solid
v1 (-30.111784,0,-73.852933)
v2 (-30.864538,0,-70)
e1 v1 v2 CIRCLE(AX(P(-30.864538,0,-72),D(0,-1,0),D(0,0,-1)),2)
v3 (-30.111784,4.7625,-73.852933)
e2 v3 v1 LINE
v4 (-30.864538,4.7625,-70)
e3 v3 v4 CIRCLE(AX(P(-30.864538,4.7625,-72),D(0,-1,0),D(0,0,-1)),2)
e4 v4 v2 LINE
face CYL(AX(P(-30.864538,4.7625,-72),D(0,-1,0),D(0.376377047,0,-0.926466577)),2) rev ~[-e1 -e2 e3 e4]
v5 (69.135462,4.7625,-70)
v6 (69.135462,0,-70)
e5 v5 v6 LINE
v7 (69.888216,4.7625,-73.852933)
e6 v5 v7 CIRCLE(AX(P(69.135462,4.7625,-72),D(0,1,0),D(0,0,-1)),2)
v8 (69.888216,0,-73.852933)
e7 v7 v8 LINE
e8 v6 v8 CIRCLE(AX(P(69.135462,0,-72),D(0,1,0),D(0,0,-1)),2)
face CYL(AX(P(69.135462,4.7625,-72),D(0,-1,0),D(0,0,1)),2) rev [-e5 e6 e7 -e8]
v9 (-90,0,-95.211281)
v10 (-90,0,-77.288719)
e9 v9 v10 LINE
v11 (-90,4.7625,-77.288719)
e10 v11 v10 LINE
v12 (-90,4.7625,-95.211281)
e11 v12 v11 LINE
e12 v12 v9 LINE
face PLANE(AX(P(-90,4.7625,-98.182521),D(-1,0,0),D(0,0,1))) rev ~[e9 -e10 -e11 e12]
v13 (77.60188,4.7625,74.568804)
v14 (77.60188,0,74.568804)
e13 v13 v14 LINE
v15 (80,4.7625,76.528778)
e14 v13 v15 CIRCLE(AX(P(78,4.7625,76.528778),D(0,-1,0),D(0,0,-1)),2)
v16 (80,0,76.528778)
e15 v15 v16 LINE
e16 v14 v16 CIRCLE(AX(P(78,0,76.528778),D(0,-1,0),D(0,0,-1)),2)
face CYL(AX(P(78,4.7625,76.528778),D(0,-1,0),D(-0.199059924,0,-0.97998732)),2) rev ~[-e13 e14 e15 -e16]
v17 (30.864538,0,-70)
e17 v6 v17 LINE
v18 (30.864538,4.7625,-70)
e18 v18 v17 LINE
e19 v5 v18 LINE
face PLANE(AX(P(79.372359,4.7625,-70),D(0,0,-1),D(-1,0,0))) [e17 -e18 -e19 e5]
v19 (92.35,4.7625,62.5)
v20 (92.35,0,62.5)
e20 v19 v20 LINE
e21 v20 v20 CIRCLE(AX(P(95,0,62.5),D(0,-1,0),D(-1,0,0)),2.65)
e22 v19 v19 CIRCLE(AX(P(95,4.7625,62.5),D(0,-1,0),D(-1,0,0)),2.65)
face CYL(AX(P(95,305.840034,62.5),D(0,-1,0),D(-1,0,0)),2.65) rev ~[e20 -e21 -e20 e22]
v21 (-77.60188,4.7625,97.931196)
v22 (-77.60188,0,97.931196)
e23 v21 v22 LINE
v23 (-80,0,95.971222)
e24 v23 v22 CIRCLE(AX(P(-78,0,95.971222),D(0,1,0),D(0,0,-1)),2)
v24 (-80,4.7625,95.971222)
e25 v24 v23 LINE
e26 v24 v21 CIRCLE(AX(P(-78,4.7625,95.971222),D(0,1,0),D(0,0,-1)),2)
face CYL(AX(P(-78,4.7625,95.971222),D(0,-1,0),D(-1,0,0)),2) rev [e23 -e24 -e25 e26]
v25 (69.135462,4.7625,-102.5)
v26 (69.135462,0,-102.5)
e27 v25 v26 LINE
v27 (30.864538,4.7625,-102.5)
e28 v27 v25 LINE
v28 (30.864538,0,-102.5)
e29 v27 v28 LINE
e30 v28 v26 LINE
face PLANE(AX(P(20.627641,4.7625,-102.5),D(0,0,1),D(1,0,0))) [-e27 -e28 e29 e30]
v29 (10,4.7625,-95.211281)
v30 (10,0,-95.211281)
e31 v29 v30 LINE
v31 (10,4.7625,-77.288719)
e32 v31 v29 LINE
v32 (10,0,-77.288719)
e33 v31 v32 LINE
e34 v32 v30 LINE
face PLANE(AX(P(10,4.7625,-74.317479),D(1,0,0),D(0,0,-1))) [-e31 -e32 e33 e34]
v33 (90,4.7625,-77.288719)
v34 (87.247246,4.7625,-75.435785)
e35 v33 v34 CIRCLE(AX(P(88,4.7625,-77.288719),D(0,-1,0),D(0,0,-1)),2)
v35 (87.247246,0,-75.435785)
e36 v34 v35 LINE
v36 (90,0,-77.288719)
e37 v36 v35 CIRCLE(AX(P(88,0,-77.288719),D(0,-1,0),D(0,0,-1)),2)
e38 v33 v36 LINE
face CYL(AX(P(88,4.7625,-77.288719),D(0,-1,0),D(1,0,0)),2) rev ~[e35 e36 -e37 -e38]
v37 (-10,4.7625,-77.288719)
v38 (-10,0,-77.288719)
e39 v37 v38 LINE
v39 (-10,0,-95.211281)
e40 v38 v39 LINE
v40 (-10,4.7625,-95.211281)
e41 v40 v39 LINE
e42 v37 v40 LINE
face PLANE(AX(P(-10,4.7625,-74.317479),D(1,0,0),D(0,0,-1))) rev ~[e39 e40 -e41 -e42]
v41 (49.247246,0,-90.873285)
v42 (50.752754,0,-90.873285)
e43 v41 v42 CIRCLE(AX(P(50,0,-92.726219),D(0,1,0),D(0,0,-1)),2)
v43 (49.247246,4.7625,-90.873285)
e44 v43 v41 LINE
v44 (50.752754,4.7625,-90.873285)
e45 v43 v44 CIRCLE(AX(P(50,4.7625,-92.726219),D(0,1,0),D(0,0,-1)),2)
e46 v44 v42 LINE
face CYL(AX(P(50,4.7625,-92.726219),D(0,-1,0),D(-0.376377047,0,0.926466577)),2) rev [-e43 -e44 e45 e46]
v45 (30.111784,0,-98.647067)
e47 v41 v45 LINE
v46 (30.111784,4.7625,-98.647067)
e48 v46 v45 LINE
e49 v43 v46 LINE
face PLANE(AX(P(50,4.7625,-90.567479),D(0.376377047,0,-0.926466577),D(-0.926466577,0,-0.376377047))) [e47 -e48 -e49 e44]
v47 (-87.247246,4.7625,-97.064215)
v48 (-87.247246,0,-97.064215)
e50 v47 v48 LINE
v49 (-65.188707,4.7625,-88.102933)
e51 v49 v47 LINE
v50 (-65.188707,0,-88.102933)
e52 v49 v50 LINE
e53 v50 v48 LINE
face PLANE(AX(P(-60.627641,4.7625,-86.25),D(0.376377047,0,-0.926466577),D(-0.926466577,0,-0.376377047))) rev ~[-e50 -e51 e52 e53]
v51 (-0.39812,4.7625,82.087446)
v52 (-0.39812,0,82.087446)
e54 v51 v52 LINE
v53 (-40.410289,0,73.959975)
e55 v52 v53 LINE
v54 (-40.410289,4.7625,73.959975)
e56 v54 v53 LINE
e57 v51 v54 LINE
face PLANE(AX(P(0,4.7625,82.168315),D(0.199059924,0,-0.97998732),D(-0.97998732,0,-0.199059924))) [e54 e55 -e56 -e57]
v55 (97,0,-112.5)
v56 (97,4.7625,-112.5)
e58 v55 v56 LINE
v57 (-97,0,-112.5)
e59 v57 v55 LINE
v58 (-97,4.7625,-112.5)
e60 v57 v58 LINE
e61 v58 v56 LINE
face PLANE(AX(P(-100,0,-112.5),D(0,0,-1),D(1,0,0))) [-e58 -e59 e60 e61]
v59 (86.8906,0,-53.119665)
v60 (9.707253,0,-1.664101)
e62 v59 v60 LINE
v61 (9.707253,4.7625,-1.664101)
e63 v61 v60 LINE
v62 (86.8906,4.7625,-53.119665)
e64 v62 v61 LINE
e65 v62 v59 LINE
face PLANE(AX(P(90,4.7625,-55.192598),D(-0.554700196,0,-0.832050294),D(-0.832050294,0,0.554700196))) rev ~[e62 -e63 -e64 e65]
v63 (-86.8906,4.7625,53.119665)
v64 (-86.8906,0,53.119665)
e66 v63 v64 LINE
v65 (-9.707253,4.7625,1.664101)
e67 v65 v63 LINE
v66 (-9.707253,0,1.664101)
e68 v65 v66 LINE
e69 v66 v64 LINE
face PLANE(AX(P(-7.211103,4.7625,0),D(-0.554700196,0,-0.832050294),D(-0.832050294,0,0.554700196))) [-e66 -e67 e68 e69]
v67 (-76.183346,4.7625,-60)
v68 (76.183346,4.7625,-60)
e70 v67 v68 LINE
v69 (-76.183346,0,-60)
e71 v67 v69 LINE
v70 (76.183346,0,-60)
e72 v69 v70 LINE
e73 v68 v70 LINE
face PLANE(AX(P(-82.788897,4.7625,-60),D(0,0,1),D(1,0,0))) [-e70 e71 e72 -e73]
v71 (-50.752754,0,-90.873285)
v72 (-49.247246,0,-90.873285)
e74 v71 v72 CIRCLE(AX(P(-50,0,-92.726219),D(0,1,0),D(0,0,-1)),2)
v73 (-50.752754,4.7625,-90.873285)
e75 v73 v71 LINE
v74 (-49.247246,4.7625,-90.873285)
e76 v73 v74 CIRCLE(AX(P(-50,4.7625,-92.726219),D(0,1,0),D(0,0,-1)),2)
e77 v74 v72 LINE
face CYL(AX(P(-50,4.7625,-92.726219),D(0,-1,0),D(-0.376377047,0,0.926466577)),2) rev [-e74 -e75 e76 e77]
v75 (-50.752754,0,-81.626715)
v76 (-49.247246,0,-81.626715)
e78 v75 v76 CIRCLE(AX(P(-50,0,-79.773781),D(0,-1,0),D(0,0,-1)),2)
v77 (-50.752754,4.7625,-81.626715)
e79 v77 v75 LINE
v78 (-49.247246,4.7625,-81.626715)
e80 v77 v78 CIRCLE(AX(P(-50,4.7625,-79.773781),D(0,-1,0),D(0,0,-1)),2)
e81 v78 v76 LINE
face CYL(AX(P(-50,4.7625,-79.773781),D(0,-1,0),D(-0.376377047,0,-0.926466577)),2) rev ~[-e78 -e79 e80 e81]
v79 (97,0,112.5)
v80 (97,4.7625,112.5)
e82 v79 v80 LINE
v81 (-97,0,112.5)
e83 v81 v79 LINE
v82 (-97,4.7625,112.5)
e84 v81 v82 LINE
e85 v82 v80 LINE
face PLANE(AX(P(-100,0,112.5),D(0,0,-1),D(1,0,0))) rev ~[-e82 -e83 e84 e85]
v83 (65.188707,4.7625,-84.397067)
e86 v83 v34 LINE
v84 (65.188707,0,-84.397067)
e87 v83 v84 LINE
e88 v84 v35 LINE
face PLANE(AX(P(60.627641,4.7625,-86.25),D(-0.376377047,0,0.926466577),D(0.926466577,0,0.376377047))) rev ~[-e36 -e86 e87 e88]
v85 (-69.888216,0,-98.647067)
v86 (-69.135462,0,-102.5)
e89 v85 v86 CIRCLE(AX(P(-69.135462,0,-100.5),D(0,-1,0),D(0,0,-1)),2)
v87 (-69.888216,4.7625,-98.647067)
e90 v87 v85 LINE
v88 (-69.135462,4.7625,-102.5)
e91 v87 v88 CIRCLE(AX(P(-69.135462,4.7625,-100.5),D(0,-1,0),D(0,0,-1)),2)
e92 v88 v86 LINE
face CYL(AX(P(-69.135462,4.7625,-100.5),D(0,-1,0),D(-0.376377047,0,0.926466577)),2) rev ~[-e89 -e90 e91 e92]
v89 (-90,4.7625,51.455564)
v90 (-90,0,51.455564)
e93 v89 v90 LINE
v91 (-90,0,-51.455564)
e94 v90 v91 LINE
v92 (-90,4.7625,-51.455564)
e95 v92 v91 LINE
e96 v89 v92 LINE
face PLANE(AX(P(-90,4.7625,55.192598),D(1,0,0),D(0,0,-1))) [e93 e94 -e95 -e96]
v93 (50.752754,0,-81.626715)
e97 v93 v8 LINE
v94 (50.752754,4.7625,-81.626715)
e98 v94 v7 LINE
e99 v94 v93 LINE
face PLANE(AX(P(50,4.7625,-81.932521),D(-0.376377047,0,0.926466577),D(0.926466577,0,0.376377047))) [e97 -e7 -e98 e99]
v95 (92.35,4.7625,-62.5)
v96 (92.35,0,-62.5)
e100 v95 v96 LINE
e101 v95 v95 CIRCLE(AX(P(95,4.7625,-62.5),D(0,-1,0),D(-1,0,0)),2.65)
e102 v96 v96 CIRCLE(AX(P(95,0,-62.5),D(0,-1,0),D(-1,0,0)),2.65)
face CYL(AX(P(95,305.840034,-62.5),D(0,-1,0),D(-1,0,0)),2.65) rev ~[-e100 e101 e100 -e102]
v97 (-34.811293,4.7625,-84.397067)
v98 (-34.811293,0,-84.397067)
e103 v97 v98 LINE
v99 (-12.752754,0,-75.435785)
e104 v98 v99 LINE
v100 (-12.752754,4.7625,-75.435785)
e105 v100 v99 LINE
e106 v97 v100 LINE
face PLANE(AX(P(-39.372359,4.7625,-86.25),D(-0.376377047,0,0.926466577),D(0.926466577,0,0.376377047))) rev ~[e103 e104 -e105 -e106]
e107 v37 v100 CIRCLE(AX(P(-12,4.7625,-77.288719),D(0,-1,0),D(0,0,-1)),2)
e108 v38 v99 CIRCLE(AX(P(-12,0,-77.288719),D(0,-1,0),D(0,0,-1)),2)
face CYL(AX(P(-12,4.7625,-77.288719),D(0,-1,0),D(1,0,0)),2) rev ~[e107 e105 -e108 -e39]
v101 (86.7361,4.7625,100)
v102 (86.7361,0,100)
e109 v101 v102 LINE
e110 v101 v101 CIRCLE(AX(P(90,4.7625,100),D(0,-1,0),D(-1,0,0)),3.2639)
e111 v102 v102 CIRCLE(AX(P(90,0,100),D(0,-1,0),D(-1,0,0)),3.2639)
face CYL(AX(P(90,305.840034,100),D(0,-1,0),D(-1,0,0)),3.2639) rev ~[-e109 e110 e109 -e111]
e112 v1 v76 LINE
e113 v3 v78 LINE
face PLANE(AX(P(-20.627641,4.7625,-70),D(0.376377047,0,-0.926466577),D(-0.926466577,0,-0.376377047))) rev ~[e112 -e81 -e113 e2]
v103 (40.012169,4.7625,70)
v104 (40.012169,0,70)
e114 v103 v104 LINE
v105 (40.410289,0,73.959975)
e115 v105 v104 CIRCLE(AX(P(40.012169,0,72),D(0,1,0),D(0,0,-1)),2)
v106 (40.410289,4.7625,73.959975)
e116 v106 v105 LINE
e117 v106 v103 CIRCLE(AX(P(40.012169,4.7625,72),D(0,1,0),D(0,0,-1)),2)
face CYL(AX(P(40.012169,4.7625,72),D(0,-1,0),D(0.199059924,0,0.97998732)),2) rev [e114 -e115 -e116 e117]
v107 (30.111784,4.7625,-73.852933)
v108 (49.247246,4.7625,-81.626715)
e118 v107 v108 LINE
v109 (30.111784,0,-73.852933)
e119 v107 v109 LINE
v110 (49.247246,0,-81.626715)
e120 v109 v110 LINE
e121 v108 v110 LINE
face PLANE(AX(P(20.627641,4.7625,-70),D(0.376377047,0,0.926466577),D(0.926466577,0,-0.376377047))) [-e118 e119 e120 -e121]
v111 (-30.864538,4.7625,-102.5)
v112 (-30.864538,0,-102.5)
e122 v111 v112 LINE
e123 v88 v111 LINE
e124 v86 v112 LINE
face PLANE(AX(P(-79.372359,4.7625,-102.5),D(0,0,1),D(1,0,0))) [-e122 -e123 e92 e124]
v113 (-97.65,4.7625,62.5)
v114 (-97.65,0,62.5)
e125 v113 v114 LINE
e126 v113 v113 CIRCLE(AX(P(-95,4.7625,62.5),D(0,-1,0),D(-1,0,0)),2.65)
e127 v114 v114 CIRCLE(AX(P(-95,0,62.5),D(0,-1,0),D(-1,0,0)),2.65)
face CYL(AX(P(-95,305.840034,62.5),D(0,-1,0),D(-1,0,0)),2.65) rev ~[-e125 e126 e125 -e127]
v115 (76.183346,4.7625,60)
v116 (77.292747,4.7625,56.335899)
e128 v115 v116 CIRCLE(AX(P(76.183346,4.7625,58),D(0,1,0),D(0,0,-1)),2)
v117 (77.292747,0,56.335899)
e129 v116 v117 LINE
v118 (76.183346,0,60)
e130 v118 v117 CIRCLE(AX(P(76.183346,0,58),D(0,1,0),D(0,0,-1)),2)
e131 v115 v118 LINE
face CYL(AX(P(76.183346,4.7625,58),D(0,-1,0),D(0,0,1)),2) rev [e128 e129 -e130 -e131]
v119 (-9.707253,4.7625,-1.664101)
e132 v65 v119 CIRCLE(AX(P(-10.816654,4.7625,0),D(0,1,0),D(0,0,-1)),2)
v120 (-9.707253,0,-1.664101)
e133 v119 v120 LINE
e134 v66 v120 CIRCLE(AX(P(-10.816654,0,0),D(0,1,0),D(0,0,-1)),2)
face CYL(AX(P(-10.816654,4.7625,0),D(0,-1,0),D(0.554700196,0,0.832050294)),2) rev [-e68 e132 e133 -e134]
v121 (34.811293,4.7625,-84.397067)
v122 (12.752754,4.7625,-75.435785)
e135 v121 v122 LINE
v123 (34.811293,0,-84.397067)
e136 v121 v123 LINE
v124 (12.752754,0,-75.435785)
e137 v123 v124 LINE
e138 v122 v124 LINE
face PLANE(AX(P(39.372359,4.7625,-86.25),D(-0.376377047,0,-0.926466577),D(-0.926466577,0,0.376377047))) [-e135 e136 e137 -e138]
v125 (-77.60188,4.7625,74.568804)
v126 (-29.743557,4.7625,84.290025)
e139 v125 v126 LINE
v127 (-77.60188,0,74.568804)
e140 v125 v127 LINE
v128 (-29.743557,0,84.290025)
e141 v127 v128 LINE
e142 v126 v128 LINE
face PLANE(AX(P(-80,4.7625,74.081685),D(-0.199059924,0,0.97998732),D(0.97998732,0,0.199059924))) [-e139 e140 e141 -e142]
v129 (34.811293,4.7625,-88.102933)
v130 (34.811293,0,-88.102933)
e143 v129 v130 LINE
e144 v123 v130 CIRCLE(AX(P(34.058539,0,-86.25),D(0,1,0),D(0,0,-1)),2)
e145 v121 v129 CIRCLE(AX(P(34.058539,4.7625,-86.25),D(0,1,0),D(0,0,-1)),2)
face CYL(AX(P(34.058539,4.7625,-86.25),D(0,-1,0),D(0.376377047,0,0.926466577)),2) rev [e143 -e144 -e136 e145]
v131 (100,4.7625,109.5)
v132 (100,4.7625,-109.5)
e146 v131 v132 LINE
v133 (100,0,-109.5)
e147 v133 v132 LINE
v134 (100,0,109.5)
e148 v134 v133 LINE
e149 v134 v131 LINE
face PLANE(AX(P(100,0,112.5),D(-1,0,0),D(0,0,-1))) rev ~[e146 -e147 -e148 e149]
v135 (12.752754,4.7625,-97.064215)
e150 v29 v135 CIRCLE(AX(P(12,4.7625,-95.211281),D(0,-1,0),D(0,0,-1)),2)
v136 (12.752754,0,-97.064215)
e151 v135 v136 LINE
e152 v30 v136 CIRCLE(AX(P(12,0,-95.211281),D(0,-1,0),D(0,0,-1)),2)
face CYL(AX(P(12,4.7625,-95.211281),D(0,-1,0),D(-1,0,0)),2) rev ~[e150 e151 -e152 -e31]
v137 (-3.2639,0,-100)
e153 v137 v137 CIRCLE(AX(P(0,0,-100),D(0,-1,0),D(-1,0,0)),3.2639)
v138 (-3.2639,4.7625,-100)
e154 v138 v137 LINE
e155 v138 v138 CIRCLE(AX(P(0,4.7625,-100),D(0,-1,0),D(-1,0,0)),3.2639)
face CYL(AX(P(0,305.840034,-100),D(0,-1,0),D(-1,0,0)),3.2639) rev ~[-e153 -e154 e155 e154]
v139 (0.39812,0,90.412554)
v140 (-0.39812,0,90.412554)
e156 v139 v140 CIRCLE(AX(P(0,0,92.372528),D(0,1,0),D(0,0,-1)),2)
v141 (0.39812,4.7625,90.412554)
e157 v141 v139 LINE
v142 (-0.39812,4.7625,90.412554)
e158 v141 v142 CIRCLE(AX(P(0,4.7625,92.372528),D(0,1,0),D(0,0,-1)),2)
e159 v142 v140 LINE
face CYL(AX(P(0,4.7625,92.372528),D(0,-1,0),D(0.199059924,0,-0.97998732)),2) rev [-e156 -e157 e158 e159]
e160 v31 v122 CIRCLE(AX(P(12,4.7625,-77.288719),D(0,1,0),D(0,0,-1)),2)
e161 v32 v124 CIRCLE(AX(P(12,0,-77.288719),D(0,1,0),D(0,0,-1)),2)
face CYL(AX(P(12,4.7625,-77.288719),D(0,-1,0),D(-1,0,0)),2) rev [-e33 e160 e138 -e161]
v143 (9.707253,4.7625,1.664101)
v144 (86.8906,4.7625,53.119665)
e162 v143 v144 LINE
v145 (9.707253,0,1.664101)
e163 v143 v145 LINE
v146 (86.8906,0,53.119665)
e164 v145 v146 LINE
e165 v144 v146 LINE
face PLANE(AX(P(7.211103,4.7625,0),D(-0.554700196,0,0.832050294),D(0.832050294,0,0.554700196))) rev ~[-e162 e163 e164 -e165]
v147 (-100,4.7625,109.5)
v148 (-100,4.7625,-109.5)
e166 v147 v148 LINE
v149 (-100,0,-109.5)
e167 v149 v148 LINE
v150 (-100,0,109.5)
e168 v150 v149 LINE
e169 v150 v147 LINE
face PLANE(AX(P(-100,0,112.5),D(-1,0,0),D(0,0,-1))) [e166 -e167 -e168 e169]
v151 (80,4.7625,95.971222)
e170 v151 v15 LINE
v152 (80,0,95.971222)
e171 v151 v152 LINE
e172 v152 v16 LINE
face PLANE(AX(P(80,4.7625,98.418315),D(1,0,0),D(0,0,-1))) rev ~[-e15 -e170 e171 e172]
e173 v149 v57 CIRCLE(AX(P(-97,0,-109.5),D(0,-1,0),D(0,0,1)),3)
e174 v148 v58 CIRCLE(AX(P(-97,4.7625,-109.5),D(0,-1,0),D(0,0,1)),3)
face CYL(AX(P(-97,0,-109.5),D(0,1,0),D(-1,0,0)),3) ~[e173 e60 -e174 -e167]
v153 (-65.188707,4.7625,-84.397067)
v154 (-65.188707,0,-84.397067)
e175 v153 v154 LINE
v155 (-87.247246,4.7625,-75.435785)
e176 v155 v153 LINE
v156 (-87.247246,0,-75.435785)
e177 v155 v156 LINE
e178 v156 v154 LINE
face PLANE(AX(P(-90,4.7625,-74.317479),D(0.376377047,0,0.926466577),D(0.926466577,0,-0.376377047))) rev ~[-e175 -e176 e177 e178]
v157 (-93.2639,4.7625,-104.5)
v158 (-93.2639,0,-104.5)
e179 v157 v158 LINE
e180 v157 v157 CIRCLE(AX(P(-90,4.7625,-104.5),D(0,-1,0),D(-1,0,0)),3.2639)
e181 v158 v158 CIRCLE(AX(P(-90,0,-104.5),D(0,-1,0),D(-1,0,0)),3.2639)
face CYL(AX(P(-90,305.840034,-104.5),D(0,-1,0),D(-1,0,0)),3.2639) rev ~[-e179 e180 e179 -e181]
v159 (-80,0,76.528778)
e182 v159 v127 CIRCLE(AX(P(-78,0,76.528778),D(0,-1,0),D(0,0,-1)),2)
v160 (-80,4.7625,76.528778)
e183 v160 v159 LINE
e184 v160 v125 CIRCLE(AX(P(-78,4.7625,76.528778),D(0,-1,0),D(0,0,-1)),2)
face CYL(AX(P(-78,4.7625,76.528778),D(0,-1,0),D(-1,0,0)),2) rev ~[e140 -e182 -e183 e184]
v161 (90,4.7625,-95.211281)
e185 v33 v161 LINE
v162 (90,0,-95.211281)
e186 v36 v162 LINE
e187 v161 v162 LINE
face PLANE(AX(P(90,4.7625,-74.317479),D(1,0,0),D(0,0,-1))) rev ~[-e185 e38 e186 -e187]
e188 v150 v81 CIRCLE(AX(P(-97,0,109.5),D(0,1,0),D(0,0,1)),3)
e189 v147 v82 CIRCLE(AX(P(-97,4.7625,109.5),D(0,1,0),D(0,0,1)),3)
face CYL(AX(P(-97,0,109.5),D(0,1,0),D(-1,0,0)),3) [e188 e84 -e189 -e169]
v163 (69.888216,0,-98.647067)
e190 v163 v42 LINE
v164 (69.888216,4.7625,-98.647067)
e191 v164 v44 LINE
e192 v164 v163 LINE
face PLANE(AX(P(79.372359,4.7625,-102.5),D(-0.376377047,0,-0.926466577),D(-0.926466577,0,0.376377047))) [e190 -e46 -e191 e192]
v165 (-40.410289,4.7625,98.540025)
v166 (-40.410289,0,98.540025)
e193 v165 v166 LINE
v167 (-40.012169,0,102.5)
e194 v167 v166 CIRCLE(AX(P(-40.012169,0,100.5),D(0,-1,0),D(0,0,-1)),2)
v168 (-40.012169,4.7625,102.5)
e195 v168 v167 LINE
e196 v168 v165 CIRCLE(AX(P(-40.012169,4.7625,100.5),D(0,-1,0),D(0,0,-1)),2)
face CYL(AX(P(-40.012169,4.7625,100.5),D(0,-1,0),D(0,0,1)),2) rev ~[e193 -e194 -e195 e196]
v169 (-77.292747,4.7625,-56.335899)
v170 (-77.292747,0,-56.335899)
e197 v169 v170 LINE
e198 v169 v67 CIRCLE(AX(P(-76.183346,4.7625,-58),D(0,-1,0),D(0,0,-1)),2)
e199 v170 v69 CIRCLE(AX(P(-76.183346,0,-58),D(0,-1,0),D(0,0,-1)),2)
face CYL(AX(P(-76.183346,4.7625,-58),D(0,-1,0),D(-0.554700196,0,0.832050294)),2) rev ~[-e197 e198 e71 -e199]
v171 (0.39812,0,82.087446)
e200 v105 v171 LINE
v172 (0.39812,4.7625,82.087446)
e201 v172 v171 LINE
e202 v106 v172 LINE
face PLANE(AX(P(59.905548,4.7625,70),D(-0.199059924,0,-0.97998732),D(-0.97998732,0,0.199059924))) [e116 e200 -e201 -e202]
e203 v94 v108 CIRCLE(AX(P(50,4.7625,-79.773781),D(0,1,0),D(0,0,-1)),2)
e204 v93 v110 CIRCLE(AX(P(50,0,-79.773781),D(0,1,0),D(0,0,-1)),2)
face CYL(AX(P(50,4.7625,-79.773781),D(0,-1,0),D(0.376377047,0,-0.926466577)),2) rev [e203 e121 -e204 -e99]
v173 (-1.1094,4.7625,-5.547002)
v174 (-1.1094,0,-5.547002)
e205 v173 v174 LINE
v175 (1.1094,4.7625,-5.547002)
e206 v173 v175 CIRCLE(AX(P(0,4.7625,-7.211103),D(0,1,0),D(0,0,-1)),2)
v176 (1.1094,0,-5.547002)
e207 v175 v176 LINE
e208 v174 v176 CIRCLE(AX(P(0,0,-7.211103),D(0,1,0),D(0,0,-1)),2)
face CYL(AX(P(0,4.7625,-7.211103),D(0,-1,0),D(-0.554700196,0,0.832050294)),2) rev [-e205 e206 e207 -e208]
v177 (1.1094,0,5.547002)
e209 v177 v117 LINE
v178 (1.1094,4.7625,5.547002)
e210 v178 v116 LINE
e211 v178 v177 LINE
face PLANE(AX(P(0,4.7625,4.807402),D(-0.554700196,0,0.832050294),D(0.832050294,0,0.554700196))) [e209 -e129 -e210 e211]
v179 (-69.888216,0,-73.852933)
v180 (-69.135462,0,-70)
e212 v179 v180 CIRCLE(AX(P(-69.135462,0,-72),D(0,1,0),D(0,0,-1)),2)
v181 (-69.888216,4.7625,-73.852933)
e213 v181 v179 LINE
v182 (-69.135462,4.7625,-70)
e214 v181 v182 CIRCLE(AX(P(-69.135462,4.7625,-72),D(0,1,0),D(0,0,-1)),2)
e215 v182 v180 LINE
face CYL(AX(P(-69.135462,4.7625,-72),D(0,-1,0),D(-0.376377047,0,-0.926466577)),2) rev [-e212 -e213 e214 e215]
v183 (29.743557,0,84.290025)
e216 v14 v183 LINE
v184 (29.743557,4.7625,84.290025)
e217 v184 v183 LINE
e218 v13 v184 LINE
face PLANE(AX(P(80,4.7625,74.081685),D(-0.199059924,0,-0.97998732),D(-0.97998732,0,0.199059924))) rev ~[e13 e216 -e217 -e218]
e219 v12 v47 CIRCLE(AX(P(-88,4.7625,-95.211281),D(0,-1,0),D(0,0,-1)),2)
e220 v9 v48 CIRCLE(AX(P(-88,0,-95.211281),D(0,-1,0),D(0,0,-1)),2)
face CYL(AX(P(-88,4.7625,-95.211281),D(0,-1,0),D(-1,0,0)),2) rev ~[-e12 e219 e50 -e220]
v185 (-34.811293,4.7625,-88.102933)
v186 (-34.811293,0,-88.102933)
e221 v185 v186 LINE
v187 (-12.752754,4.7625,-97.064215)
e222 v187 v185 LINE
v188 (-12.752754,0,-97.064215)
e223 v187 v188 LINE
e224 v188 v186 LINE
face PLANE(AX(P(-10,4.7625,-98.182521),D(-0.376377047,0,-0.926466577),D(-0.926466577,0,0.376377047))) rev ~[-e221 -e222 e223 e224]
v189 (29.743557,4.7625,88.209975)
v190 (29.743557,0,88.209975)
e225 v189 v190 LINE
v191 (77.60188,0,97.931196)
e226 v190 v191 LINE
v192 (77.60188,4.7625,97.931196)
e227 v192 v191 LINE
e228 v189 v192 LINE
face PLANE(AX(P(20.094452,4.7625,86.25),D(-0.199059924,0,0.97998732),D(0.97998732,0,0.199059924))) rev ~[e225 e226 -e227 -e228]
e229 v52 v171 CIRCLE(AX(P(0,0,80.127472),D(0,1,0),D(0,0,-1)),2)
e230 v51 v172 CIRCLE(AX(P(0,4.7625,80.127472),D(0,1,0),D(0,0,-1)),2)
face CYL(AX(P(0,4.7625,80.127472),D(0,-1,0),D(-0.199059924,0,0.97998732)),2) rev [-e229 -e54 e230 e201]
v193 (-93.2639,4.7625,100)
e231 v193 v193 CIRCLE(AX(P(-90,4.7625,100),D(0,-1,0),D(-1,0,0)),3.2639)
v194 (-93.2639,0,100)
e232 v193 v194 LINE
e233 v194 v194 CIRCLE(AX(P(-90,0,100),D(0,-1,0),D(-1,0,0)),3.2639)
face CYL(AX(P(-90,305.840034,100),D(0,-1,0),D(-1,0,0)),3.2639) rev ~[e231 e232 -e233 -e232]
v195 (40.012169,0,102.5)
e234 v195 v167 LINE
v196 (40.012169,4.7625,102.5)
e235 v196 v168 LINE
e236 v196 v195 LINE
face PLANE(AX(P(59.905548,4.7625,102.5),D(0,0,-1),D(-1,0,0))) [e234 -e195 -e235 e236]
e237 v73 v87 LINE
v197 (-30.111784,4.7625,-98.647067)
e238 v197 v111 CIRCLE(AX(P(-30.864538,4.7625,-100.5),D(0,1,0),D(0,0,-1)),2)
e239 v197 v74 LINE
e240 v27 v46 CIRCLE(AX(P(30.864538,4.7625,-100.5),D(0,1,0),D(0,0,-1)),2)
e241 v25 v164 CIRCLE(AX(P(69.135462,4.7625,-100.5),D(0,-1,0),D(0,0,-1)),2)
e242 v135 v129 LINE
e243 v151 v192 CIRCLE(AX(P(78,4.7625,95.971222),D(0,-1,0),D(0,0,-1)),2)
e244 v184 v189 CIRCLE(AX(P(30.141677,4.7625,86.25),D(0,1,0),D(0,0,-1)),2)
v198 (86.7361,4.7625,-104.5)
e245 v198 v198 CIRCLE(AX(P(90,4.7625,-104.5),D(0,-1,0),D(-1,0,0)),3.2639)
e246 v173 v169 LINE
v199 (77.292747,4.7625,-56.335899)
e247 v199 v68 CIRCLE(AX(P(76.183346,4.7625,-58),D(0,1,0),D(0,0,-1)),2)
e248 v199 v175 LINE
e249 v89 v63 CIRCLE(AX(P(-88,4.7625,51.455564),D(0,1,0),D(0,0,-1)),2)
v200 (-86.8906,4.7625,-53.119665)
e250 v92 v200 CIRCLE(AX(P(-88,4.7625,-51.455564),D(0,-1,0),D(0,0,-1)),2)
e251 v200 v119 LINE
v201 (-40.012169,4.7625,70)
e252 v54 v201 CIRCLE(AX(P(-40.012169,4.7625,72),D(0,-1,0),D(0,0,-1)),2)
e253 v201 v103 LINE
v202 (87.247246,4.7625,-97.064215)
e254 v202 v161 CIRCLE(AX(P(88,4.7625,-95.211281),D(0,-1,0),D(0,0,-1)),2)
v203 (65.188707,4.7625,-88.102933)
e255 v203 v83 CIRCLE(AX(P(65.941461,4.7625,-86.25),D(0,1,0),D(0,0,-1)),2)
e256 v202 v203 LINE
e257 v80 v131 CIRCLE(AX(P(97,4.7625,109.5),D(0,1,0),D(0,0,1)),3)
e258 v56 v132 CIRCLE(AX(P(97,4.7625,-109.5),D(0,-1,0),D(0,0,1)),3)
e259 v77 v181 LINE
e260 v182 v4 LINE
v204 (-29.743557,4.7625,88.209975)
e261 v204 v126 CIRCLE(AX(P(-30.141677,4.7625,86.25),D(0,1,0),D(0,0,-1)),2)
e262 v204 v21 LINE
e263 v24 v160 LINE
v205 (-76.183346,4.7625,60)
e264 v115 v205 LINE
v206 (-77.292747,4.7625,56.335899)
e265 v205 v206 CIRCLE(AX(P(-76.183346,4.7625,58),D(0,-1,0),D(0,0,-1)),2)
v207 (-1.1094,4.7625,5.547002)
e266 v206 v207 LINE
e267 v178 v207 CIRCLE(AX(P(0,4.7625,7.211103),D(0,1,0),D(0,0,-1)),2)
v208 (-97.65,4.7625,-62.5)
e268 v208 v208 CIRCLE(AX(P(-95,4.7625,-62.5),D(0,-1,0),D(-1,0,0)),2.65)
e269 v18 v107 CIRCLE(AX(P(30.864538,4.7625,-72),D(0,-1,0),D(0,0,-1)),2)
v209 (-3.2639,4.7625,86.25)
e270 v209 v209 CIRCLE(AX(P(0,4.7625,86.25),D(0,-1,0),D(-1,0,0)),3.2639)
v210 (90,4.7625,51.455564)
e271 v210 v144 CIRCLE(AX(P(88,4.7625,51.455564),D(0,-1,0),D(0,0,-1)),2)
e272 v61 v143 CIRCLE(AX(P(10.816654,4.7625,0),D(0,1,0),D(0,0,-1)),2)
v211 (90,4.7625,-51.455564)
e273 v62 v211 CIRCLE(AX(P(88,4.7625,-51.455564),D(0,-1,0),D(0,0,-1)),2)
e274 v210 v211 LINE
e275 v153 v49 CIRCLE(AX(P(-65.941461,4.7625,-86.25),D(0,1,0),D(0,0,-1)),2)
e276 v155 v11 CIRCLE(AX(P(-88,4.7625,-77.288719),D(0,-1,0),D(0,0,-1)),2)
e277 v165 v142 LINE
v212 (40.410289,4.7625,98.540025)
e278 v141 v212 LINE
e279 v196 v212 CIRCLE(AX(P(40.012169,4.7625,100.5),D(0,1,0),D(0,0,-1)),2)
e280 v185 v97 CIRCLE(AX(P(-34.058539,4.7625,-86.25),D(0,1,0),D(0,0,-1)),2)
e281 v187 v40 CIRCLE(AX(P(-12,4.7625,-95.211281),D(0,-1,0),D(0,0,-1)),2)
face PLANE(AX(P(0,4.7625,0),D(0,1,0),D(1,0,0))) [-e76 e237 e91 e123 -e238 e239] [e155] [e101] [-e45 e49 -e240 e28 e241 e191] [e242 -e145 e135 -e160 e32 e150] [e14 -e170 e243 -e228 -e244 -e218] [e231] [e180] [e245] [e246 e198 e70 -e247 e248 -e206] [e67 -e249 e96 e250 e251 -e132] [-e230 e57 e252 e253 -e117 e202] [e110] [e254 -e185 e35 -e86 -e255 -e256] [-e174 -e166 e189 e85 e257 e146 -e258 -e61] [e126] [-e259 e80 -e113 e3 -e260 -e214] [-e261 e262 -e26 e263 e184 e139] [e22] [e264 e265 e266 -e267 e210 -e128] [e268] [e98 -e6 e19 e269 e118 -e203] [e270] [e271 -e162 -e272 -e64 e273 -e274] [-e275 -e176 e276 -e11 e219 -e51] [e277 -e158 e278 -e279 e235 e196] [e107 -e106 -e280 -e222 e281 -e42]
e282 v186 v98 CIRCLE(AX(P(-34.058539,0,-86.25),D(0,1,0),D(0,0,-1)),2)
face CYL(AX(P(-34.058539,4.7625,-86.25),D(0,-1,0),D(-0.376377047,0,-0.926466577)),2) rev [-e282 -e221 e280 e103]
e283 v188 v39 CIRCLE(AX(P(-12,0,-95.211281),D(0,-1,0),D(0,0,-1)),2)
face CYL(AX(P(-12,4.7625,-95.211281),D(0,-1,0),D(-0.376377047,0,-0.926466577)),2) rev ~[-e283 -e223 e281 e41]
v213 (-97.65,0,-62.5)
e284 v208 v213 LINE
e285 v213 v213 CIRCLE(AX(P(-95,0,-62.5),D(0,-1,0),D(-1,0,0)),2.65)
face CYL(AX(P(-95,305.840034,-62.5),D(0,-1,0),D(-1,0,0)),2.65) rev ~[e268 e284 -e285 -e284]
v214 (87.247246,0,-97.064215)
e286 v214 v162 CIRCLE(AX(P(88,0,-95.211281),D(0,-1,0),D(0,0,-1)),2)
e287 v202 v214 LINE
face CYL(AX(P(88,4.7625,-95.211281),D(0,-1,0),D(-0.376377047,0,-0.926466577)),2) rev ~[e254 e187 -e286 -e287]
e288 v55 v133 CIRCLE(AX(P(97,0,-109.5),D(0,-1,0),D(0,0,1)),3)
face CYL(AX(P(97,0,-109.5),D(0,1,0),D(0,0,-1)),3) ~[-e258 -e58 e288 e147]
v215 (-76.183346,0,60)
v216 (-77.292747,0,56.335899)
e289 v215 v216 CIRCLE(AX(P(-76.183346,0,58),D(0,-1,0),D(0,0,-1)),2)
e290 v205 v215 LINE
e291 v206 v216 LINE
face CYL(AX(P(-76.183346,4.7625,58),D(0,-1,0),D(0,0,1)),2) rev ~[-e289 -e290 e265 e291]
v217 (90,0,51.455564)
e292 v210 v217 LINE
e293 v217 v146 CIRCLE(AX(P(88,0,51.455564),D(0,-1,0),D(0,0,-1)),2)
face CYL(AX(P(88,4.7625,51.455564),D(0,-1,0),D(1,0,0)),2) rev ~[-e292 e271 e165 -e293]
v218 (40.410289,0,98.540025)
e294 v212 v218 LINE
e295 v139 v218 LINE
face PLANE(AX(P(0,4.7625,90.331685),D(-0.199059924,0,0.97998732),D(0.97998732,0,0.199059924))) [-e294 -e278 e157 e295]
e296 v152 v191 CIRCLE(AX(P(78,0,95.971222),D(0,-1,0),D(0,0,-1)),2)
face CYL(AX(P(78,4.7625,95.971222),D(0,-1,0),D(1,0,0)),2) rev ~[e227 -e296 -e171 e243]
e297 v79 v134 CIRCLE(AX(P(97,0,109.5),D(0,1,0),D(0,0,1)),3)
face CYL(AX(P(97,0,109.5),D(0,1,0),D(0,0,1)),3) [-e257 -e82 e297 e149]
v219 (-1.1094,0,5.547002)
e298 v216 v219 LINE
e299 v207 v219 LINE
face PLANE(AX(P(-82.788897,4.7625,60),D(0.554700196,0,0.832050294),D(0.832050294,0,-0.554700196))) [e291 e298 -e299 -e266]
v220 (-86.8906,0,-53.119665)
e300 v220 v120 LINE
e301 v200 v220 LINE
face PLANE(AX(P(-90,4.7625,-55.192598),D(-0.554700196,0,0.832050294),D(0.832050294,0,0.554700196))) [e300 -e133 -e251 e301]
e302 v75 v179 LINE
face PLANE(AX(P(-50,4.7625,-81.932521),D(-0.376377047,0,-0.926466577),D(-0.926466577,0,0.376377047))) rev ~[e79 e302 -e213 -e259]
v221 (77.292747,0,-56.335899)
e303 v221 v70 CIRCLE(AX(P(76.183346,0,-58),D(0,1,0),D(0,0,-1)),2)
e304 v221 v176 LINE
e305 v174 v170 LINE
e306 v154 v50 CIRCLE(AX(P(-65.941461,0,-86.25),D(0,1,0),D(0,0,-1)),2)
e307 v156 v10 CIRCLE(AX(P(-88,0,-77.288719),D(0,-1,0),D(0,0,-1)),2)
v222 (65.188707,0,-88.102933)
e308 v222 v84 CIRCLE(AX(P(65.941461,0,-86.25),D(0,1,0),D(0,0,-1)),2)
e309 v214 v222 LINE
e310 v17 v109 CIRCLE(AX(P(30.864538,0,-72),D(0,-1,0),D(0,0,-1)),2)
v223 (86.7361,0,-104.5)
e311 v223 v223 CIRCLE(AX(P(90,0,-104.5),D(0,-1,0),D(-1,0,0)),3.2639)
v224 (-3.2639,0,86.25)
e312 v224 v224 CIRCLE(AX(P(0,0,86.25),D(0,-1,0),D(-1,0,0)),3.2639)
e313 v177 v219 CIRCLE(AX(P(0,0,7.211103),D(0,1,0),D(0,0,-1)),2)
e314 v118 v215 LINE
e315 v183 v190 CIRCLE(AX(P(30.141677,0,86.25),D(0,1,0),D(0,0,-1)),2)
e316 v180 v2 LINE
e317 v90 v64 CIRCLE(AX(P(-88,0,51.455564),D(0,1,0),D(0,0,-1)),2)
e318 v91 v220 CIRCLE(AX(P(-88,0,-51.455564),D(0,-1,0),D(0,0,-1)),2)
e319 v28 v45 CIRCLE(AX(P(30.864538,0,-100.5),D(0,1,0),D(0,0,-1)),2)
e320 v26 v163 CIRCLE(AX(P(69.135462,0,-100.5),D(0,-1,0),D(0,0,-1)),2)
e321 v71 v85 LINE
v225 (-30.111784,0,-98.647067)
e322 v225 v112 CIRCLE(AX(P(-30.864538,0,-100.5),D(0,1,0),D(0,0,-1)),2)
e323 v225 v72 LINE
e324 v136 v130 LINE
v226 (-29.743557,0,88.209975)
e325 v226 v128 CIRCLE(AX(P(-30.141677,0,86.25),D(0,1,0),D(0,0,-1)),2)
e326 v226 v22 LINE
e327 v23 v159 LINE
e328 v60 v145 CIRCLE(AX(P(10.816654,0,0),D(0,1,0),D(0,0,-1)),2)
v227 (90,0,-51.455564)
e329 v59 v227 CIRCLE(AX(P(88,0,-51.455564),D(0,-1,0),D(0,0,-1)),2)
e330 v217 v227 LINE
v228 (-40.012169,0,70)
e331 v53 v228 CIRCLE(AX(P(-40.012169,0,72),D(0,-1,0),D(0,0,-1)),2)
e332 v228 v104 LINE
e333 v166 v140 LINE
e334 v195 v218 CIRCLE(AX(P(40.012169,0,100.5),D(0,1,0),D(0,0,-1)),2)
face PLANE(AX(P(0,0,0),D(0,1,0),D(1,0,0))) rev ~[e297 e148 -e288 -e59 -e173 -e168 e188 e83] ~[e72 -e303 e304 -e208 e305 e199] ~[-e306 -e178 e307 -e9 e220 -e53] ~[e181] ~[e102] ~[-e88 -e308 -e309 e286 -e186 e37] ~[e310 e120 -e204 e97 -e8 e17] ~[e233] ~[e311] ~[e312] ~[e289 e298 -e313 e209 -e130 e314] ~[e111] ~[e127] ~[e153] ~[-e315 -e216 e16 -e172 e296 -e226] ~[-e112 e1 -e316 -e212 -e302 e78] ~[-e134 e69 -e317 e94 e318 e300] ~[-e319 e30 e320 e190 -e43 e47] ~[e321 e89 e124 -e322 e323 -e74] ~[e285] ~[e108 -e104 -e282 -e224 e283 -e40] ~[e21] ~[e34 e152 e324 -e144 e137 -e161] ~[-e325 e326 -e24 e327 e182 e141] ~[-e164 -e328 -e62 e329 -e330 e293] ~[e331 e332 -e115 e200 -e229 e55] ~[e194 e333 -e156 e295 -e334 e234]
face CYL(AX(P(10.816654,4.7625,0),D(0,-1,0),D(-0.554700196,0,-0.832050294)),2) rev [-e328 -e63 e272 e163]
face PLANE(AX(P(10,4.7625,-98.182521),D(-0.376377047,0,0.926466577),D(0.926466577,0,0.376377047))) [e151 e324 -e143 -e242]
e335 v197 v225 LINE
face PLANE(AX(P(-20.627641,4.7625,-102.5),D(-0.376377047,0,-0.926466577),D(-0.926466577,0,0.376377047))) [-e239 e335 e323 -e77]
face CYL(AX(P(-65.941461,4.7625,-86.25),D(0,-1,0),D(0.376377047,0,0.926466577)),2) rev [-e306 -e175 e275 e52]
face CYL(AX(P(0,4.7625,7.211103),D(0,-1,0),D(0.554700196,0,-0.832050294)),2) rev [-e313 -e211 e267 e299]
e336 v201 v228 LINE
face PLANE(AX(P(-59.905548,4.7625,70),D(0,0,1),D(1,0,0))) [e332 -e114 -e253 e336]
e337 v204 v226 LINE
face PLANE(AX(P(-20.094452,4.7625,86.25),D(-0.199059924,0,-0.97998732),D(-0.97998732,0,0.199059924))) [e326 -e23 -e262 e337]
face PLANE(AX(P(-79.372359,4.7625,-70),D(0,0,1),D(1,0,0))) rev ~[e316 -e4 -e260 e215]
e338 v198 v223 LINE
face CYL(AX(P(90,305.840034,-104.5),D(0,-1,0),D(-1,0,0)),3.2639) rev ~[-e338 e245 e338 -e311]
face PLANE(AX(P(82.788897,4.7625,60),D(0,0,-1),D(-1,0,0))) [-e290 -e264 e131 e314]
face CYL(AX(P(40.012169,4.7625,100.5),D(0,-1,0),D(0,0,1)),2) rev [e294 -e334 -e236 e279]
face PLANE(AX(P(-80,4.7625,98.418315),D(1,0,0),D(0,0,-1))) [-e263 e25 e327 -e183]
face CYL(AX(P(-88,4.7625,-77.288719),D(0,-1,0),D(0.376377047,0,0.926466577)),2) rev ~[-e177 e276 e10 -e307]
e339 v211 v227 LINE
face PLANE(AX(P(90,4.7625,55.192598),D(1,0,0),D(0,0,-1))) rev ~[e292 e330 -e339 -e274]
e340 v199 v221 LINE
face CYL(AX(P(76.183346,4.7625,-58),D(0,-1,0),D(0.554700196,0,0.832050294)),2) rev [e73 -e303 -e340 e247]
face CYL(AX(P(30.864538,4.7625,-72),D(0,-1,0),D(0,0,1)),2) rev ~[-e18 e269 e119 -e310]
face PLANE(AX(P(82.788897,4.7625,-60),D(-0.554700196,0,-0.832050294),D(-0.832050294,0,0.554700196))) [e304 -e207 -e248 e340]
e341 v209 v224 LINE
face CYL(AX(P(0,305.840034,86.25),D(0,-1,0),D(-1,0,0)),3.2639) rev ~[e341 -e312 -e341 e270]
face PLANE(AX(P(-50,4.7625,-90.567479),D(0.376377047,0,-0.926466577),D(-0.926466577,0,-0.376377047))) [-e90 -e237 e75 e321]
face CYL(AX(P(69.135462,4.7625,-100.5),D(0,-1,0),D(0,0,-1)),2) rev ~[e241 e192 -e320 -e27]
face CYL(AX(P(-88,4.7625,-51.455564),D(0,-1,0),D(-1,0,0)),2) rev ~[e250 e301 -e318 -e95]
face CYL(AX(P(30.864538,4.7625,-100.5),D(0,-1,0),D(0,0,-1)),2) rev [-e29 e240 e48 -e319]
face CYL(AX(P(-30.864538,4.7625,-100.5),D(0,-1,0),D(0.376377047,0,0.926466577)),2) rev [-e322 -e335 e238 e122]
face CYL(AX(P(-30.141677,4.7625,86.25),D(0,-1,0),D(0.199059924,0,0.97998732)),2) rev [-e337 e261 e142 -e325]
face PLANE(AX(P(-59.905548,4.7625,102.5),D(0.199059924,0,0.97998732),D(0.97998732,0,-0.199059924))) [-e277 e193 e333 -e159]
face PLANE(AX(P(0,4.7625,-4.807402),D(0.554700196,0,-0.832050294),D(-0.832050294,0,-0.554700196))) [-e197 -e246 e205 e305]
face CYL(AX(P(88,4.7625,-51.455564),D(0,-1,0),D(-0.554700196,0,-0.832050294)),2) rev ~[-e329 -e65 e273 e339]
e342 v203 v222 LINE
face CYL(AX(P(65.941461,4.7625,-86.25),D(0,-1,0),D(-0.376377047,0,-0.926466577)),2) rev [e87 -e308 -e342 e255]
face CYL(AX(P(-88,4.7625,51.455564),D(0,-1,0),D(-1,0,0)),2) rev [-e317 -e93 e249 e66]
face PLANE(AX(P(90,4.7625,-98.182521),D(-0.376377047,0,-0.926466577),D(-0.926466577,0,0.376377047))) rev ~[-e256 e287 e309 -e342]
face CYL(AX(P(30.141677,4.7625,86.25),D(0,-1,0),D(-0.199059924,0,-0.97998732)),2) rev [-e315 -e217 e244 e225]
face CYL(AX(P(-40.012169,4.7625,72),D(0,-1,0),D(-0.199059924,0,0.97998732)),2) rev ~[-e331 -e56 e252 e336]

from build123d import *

# Parameters (mm, degrees)
SKETCH2_W               = 200
SKETCH2_H               = 225
BOSS_EXTRUDE1_DEPTH     = 4.7625
M5_CLEARANCE_HOLE1_D    = 5.3
F_1_4_CLEARANCE_HOLE1_D = 6.5278
CUT_EXTRUDE1_DEPTH      = 151.595256918
F_1_4_CLEARANCE_HOLE2_D = 6.5278
FILLET1_R               = 2
FILLET2_R               = 3


with BuildPart() as part:
    # Sketch2 → Boss-Extrude1 (new body)
    with BuildSketch(Plane(origin=(0, 0, 0), x_dir=(1, 0, 0), z_dir=(0, 1, 0))):
        Rectangle(SKETCH2_W, SKETCH2_H)
    extrude(amount=BOSS_EXTRUDE1_DEPTH)

    # M5 Clearance Hole1 (through all)
    with Locations(Plane(origin=(0, 4.7625, 0), x_dir=(1, 0, 0), z_dir=(0, 1, 0))):
        with Locations((-95, 62.5), (-95, -62.5), (95, -62.5), (95, 62.5)):
            Hole(M5_CLEARANCE_HOLE1_D / 2)

    # 1/4 Clearance Hole1 (through all)
    with Locations(Plane(origin=(0, 4.7625, 0), x_dir=(1, 0, 0), z_dir=(0, 1, 0))):
        with Locations((0, 100), (-90, -100), (90, -100)):
            Hole(F_1_4_CLEARANCE_HOLE1_D / 2)

    # Sketch7 → Cut-Extrude1 (cut, through all)
    with BuildSketch(Plane(origin=(0, 4.7625, 0), x_dir=(1, 0, 0), z_dir=(0, 1, 0))):
        Polygon((-82.788897449, 60), (82.788897449, 60), (0, 4.807401701), align=None)
        Polygon((-90, 55.192598299), (-7.211102551, 0), (-90, -55.192598299), align=None)
        Polygon((90, 55.192598299), (7.211102551, 0), (90, -55.192598299), align=None)
        Polygon((-82.788897449, -60), (0, -4.807401701), (82.788897449, -60), align=None)
        Polygon((-80, -74.081685467), (-20.094451529, -86.25), (-80, -98.418314533), align=None)
        Polygon((-59.905548471, -70), (59.905548471, -70), (0, -82.168314533), align=None)
        Polygon((80, -74.081685467), (20.094451529, -86.25), (80, -98.418314533), align=None)
        Polygon((-59.905548471, -102.5), (0, -90.331685467), (59.905548471, -102.5), align=None)
        Polygon((90, 98.18252099), (60.627640639, 86.25), (90, 74.31747901), align=None)
        Polygon((79.372359361, 102.5), (50, 90.56747901), (20.627640639, 102.5), align=None)
        Polygon((10, 98.18252099), (39.372359361, 86.25), (10, 74.31747901), align=None)
        Polygon((20.627640639, 70), (50, 81.93252099), (79.372359361, 70), align=None)
        Polygon((-79.372359361, 102.5), (-20.627640639, 102.5), (-50, 90.56747901), align=None)
        Polygon((-10, 98.18252099), (-39.372359361, 86.25), (-10, 74.31747901), align=None)
        Polygon((-50, 81.93252099), (-79.372359361, 70), (-20.627640639, 70), align=None)
        Polygon((-90, 74.31747901), (-60.627640639, 86.25), (-90, 98.18252099), align=None)
    extrude(amount=-CUT_EXTRUDE1_DEPTH, mode=Mode.SUBTRACT)

    # 1/4 Clearance Hole2 (through all)
    with Locations(Plane(origin=(0, 4.7625, 0), x_dir=(1, 0, 0), z_dir=(0, 1, 0))):
        with Locations((0, -86.25), (-90, 104.5), (90, 104.5)):
            Hole(F_1_4_CLEARANCE_HOLE2_D / 2)

    # Fillet1
    fillet1_edges = [part.edges().sort_by_distance(p)[0] for p in [
        (-80, 2.38125, 98.418314533),
        (-80, 2.38125, 74.081685467),
        (-20.094451529, 2.38125, 86.25),
        (80, 2.38125, 74.081685467),
        (80, 2.38125, 98.418314533),
        (20.094451529, 2.38125, 86.25),
        (59.905548471, 2.38125, 102.5),
        (-59.905548471, 2.38125, 102.5),
        (0, 2.38125, 90.331685467),
        (90, 2.38125, -98.18252099),
        (90, 2.38125, -74.31747901),
        (60.627640639, 2.38125, -86.25),
        (-90, 2.38125, 55.192598299),
        (-90, 2.38125, -55.192598299),
        (-7.211102551, 2.38125, 0),
        (90, 2.38125, -55.192598299),
        (90, 2.38125, 55.192598299),
        (7.211102551, 2.38125, 0),
        (82.788897449, 2.38125, 60),
        (-82.788897449, 2.38125, 60),
        (0, 2.38125, 4.807401701),
        (0, 2.38125, 82.168314533),
        (-59.905548471, 2.38125, 70),
        (59.905548471, 2.38125, 70),
        (-50, 2.38125, -81.93252099),
        (-20.627640639, 2.38125, -70),
        (-79.372359361, 2.38125, -70),
        (-10, 2.38125, -98.18252099),
        (-10, 2.38125, -74.31747901),
        (-39.372359361, 2.38125, -86.25),
        (-90, 2.38125, -74.31747901),
        (-90, 2.38125, -98.18252099),
        (-60.627640639, 2.38125, -86.25),
        (20.627640639, 2.38125, -102.5),
        (79.372359361, 2.38125, -102.5),
        (50, 2.38125, -90.56747901),
        (10, 2.38125, -74.31747901),
        (10, 2.38125, -98.18252099),
        (39.372359361, 2.38125, -86.25),
        (79.372359361, 2.38125, -70),
        (20.627640639, 2.38125, -70),
        (50, 2.38125, -81.93252099),
        (-50, 2.38125, -90.56747901),
        (-79.372359361, 2.38125, -102.5),
        (-20.627640639, 2.38125, -102.5),
        (0, 2.38125, -4.807401701),
        (-82.788897449, 2.38125, -60),
        (82.788897449, 2.38125, -60),
    ]]
    fillet(fillet1_edges, radius=FILLET1_R)

    # Fillet2
    fillet2_edges = [part.edges().sort_by_distance(p)[0] for p in [
        (100, 2.38125, 112.5),
        (-100, 2.38125, 112.5),
        (-100, 2.38125, -112.5),
        (100, 2.38125, -112.5),
    ]]
    fillet(fillet2_edges, radius=FILLET2_R)


solid = part.part
